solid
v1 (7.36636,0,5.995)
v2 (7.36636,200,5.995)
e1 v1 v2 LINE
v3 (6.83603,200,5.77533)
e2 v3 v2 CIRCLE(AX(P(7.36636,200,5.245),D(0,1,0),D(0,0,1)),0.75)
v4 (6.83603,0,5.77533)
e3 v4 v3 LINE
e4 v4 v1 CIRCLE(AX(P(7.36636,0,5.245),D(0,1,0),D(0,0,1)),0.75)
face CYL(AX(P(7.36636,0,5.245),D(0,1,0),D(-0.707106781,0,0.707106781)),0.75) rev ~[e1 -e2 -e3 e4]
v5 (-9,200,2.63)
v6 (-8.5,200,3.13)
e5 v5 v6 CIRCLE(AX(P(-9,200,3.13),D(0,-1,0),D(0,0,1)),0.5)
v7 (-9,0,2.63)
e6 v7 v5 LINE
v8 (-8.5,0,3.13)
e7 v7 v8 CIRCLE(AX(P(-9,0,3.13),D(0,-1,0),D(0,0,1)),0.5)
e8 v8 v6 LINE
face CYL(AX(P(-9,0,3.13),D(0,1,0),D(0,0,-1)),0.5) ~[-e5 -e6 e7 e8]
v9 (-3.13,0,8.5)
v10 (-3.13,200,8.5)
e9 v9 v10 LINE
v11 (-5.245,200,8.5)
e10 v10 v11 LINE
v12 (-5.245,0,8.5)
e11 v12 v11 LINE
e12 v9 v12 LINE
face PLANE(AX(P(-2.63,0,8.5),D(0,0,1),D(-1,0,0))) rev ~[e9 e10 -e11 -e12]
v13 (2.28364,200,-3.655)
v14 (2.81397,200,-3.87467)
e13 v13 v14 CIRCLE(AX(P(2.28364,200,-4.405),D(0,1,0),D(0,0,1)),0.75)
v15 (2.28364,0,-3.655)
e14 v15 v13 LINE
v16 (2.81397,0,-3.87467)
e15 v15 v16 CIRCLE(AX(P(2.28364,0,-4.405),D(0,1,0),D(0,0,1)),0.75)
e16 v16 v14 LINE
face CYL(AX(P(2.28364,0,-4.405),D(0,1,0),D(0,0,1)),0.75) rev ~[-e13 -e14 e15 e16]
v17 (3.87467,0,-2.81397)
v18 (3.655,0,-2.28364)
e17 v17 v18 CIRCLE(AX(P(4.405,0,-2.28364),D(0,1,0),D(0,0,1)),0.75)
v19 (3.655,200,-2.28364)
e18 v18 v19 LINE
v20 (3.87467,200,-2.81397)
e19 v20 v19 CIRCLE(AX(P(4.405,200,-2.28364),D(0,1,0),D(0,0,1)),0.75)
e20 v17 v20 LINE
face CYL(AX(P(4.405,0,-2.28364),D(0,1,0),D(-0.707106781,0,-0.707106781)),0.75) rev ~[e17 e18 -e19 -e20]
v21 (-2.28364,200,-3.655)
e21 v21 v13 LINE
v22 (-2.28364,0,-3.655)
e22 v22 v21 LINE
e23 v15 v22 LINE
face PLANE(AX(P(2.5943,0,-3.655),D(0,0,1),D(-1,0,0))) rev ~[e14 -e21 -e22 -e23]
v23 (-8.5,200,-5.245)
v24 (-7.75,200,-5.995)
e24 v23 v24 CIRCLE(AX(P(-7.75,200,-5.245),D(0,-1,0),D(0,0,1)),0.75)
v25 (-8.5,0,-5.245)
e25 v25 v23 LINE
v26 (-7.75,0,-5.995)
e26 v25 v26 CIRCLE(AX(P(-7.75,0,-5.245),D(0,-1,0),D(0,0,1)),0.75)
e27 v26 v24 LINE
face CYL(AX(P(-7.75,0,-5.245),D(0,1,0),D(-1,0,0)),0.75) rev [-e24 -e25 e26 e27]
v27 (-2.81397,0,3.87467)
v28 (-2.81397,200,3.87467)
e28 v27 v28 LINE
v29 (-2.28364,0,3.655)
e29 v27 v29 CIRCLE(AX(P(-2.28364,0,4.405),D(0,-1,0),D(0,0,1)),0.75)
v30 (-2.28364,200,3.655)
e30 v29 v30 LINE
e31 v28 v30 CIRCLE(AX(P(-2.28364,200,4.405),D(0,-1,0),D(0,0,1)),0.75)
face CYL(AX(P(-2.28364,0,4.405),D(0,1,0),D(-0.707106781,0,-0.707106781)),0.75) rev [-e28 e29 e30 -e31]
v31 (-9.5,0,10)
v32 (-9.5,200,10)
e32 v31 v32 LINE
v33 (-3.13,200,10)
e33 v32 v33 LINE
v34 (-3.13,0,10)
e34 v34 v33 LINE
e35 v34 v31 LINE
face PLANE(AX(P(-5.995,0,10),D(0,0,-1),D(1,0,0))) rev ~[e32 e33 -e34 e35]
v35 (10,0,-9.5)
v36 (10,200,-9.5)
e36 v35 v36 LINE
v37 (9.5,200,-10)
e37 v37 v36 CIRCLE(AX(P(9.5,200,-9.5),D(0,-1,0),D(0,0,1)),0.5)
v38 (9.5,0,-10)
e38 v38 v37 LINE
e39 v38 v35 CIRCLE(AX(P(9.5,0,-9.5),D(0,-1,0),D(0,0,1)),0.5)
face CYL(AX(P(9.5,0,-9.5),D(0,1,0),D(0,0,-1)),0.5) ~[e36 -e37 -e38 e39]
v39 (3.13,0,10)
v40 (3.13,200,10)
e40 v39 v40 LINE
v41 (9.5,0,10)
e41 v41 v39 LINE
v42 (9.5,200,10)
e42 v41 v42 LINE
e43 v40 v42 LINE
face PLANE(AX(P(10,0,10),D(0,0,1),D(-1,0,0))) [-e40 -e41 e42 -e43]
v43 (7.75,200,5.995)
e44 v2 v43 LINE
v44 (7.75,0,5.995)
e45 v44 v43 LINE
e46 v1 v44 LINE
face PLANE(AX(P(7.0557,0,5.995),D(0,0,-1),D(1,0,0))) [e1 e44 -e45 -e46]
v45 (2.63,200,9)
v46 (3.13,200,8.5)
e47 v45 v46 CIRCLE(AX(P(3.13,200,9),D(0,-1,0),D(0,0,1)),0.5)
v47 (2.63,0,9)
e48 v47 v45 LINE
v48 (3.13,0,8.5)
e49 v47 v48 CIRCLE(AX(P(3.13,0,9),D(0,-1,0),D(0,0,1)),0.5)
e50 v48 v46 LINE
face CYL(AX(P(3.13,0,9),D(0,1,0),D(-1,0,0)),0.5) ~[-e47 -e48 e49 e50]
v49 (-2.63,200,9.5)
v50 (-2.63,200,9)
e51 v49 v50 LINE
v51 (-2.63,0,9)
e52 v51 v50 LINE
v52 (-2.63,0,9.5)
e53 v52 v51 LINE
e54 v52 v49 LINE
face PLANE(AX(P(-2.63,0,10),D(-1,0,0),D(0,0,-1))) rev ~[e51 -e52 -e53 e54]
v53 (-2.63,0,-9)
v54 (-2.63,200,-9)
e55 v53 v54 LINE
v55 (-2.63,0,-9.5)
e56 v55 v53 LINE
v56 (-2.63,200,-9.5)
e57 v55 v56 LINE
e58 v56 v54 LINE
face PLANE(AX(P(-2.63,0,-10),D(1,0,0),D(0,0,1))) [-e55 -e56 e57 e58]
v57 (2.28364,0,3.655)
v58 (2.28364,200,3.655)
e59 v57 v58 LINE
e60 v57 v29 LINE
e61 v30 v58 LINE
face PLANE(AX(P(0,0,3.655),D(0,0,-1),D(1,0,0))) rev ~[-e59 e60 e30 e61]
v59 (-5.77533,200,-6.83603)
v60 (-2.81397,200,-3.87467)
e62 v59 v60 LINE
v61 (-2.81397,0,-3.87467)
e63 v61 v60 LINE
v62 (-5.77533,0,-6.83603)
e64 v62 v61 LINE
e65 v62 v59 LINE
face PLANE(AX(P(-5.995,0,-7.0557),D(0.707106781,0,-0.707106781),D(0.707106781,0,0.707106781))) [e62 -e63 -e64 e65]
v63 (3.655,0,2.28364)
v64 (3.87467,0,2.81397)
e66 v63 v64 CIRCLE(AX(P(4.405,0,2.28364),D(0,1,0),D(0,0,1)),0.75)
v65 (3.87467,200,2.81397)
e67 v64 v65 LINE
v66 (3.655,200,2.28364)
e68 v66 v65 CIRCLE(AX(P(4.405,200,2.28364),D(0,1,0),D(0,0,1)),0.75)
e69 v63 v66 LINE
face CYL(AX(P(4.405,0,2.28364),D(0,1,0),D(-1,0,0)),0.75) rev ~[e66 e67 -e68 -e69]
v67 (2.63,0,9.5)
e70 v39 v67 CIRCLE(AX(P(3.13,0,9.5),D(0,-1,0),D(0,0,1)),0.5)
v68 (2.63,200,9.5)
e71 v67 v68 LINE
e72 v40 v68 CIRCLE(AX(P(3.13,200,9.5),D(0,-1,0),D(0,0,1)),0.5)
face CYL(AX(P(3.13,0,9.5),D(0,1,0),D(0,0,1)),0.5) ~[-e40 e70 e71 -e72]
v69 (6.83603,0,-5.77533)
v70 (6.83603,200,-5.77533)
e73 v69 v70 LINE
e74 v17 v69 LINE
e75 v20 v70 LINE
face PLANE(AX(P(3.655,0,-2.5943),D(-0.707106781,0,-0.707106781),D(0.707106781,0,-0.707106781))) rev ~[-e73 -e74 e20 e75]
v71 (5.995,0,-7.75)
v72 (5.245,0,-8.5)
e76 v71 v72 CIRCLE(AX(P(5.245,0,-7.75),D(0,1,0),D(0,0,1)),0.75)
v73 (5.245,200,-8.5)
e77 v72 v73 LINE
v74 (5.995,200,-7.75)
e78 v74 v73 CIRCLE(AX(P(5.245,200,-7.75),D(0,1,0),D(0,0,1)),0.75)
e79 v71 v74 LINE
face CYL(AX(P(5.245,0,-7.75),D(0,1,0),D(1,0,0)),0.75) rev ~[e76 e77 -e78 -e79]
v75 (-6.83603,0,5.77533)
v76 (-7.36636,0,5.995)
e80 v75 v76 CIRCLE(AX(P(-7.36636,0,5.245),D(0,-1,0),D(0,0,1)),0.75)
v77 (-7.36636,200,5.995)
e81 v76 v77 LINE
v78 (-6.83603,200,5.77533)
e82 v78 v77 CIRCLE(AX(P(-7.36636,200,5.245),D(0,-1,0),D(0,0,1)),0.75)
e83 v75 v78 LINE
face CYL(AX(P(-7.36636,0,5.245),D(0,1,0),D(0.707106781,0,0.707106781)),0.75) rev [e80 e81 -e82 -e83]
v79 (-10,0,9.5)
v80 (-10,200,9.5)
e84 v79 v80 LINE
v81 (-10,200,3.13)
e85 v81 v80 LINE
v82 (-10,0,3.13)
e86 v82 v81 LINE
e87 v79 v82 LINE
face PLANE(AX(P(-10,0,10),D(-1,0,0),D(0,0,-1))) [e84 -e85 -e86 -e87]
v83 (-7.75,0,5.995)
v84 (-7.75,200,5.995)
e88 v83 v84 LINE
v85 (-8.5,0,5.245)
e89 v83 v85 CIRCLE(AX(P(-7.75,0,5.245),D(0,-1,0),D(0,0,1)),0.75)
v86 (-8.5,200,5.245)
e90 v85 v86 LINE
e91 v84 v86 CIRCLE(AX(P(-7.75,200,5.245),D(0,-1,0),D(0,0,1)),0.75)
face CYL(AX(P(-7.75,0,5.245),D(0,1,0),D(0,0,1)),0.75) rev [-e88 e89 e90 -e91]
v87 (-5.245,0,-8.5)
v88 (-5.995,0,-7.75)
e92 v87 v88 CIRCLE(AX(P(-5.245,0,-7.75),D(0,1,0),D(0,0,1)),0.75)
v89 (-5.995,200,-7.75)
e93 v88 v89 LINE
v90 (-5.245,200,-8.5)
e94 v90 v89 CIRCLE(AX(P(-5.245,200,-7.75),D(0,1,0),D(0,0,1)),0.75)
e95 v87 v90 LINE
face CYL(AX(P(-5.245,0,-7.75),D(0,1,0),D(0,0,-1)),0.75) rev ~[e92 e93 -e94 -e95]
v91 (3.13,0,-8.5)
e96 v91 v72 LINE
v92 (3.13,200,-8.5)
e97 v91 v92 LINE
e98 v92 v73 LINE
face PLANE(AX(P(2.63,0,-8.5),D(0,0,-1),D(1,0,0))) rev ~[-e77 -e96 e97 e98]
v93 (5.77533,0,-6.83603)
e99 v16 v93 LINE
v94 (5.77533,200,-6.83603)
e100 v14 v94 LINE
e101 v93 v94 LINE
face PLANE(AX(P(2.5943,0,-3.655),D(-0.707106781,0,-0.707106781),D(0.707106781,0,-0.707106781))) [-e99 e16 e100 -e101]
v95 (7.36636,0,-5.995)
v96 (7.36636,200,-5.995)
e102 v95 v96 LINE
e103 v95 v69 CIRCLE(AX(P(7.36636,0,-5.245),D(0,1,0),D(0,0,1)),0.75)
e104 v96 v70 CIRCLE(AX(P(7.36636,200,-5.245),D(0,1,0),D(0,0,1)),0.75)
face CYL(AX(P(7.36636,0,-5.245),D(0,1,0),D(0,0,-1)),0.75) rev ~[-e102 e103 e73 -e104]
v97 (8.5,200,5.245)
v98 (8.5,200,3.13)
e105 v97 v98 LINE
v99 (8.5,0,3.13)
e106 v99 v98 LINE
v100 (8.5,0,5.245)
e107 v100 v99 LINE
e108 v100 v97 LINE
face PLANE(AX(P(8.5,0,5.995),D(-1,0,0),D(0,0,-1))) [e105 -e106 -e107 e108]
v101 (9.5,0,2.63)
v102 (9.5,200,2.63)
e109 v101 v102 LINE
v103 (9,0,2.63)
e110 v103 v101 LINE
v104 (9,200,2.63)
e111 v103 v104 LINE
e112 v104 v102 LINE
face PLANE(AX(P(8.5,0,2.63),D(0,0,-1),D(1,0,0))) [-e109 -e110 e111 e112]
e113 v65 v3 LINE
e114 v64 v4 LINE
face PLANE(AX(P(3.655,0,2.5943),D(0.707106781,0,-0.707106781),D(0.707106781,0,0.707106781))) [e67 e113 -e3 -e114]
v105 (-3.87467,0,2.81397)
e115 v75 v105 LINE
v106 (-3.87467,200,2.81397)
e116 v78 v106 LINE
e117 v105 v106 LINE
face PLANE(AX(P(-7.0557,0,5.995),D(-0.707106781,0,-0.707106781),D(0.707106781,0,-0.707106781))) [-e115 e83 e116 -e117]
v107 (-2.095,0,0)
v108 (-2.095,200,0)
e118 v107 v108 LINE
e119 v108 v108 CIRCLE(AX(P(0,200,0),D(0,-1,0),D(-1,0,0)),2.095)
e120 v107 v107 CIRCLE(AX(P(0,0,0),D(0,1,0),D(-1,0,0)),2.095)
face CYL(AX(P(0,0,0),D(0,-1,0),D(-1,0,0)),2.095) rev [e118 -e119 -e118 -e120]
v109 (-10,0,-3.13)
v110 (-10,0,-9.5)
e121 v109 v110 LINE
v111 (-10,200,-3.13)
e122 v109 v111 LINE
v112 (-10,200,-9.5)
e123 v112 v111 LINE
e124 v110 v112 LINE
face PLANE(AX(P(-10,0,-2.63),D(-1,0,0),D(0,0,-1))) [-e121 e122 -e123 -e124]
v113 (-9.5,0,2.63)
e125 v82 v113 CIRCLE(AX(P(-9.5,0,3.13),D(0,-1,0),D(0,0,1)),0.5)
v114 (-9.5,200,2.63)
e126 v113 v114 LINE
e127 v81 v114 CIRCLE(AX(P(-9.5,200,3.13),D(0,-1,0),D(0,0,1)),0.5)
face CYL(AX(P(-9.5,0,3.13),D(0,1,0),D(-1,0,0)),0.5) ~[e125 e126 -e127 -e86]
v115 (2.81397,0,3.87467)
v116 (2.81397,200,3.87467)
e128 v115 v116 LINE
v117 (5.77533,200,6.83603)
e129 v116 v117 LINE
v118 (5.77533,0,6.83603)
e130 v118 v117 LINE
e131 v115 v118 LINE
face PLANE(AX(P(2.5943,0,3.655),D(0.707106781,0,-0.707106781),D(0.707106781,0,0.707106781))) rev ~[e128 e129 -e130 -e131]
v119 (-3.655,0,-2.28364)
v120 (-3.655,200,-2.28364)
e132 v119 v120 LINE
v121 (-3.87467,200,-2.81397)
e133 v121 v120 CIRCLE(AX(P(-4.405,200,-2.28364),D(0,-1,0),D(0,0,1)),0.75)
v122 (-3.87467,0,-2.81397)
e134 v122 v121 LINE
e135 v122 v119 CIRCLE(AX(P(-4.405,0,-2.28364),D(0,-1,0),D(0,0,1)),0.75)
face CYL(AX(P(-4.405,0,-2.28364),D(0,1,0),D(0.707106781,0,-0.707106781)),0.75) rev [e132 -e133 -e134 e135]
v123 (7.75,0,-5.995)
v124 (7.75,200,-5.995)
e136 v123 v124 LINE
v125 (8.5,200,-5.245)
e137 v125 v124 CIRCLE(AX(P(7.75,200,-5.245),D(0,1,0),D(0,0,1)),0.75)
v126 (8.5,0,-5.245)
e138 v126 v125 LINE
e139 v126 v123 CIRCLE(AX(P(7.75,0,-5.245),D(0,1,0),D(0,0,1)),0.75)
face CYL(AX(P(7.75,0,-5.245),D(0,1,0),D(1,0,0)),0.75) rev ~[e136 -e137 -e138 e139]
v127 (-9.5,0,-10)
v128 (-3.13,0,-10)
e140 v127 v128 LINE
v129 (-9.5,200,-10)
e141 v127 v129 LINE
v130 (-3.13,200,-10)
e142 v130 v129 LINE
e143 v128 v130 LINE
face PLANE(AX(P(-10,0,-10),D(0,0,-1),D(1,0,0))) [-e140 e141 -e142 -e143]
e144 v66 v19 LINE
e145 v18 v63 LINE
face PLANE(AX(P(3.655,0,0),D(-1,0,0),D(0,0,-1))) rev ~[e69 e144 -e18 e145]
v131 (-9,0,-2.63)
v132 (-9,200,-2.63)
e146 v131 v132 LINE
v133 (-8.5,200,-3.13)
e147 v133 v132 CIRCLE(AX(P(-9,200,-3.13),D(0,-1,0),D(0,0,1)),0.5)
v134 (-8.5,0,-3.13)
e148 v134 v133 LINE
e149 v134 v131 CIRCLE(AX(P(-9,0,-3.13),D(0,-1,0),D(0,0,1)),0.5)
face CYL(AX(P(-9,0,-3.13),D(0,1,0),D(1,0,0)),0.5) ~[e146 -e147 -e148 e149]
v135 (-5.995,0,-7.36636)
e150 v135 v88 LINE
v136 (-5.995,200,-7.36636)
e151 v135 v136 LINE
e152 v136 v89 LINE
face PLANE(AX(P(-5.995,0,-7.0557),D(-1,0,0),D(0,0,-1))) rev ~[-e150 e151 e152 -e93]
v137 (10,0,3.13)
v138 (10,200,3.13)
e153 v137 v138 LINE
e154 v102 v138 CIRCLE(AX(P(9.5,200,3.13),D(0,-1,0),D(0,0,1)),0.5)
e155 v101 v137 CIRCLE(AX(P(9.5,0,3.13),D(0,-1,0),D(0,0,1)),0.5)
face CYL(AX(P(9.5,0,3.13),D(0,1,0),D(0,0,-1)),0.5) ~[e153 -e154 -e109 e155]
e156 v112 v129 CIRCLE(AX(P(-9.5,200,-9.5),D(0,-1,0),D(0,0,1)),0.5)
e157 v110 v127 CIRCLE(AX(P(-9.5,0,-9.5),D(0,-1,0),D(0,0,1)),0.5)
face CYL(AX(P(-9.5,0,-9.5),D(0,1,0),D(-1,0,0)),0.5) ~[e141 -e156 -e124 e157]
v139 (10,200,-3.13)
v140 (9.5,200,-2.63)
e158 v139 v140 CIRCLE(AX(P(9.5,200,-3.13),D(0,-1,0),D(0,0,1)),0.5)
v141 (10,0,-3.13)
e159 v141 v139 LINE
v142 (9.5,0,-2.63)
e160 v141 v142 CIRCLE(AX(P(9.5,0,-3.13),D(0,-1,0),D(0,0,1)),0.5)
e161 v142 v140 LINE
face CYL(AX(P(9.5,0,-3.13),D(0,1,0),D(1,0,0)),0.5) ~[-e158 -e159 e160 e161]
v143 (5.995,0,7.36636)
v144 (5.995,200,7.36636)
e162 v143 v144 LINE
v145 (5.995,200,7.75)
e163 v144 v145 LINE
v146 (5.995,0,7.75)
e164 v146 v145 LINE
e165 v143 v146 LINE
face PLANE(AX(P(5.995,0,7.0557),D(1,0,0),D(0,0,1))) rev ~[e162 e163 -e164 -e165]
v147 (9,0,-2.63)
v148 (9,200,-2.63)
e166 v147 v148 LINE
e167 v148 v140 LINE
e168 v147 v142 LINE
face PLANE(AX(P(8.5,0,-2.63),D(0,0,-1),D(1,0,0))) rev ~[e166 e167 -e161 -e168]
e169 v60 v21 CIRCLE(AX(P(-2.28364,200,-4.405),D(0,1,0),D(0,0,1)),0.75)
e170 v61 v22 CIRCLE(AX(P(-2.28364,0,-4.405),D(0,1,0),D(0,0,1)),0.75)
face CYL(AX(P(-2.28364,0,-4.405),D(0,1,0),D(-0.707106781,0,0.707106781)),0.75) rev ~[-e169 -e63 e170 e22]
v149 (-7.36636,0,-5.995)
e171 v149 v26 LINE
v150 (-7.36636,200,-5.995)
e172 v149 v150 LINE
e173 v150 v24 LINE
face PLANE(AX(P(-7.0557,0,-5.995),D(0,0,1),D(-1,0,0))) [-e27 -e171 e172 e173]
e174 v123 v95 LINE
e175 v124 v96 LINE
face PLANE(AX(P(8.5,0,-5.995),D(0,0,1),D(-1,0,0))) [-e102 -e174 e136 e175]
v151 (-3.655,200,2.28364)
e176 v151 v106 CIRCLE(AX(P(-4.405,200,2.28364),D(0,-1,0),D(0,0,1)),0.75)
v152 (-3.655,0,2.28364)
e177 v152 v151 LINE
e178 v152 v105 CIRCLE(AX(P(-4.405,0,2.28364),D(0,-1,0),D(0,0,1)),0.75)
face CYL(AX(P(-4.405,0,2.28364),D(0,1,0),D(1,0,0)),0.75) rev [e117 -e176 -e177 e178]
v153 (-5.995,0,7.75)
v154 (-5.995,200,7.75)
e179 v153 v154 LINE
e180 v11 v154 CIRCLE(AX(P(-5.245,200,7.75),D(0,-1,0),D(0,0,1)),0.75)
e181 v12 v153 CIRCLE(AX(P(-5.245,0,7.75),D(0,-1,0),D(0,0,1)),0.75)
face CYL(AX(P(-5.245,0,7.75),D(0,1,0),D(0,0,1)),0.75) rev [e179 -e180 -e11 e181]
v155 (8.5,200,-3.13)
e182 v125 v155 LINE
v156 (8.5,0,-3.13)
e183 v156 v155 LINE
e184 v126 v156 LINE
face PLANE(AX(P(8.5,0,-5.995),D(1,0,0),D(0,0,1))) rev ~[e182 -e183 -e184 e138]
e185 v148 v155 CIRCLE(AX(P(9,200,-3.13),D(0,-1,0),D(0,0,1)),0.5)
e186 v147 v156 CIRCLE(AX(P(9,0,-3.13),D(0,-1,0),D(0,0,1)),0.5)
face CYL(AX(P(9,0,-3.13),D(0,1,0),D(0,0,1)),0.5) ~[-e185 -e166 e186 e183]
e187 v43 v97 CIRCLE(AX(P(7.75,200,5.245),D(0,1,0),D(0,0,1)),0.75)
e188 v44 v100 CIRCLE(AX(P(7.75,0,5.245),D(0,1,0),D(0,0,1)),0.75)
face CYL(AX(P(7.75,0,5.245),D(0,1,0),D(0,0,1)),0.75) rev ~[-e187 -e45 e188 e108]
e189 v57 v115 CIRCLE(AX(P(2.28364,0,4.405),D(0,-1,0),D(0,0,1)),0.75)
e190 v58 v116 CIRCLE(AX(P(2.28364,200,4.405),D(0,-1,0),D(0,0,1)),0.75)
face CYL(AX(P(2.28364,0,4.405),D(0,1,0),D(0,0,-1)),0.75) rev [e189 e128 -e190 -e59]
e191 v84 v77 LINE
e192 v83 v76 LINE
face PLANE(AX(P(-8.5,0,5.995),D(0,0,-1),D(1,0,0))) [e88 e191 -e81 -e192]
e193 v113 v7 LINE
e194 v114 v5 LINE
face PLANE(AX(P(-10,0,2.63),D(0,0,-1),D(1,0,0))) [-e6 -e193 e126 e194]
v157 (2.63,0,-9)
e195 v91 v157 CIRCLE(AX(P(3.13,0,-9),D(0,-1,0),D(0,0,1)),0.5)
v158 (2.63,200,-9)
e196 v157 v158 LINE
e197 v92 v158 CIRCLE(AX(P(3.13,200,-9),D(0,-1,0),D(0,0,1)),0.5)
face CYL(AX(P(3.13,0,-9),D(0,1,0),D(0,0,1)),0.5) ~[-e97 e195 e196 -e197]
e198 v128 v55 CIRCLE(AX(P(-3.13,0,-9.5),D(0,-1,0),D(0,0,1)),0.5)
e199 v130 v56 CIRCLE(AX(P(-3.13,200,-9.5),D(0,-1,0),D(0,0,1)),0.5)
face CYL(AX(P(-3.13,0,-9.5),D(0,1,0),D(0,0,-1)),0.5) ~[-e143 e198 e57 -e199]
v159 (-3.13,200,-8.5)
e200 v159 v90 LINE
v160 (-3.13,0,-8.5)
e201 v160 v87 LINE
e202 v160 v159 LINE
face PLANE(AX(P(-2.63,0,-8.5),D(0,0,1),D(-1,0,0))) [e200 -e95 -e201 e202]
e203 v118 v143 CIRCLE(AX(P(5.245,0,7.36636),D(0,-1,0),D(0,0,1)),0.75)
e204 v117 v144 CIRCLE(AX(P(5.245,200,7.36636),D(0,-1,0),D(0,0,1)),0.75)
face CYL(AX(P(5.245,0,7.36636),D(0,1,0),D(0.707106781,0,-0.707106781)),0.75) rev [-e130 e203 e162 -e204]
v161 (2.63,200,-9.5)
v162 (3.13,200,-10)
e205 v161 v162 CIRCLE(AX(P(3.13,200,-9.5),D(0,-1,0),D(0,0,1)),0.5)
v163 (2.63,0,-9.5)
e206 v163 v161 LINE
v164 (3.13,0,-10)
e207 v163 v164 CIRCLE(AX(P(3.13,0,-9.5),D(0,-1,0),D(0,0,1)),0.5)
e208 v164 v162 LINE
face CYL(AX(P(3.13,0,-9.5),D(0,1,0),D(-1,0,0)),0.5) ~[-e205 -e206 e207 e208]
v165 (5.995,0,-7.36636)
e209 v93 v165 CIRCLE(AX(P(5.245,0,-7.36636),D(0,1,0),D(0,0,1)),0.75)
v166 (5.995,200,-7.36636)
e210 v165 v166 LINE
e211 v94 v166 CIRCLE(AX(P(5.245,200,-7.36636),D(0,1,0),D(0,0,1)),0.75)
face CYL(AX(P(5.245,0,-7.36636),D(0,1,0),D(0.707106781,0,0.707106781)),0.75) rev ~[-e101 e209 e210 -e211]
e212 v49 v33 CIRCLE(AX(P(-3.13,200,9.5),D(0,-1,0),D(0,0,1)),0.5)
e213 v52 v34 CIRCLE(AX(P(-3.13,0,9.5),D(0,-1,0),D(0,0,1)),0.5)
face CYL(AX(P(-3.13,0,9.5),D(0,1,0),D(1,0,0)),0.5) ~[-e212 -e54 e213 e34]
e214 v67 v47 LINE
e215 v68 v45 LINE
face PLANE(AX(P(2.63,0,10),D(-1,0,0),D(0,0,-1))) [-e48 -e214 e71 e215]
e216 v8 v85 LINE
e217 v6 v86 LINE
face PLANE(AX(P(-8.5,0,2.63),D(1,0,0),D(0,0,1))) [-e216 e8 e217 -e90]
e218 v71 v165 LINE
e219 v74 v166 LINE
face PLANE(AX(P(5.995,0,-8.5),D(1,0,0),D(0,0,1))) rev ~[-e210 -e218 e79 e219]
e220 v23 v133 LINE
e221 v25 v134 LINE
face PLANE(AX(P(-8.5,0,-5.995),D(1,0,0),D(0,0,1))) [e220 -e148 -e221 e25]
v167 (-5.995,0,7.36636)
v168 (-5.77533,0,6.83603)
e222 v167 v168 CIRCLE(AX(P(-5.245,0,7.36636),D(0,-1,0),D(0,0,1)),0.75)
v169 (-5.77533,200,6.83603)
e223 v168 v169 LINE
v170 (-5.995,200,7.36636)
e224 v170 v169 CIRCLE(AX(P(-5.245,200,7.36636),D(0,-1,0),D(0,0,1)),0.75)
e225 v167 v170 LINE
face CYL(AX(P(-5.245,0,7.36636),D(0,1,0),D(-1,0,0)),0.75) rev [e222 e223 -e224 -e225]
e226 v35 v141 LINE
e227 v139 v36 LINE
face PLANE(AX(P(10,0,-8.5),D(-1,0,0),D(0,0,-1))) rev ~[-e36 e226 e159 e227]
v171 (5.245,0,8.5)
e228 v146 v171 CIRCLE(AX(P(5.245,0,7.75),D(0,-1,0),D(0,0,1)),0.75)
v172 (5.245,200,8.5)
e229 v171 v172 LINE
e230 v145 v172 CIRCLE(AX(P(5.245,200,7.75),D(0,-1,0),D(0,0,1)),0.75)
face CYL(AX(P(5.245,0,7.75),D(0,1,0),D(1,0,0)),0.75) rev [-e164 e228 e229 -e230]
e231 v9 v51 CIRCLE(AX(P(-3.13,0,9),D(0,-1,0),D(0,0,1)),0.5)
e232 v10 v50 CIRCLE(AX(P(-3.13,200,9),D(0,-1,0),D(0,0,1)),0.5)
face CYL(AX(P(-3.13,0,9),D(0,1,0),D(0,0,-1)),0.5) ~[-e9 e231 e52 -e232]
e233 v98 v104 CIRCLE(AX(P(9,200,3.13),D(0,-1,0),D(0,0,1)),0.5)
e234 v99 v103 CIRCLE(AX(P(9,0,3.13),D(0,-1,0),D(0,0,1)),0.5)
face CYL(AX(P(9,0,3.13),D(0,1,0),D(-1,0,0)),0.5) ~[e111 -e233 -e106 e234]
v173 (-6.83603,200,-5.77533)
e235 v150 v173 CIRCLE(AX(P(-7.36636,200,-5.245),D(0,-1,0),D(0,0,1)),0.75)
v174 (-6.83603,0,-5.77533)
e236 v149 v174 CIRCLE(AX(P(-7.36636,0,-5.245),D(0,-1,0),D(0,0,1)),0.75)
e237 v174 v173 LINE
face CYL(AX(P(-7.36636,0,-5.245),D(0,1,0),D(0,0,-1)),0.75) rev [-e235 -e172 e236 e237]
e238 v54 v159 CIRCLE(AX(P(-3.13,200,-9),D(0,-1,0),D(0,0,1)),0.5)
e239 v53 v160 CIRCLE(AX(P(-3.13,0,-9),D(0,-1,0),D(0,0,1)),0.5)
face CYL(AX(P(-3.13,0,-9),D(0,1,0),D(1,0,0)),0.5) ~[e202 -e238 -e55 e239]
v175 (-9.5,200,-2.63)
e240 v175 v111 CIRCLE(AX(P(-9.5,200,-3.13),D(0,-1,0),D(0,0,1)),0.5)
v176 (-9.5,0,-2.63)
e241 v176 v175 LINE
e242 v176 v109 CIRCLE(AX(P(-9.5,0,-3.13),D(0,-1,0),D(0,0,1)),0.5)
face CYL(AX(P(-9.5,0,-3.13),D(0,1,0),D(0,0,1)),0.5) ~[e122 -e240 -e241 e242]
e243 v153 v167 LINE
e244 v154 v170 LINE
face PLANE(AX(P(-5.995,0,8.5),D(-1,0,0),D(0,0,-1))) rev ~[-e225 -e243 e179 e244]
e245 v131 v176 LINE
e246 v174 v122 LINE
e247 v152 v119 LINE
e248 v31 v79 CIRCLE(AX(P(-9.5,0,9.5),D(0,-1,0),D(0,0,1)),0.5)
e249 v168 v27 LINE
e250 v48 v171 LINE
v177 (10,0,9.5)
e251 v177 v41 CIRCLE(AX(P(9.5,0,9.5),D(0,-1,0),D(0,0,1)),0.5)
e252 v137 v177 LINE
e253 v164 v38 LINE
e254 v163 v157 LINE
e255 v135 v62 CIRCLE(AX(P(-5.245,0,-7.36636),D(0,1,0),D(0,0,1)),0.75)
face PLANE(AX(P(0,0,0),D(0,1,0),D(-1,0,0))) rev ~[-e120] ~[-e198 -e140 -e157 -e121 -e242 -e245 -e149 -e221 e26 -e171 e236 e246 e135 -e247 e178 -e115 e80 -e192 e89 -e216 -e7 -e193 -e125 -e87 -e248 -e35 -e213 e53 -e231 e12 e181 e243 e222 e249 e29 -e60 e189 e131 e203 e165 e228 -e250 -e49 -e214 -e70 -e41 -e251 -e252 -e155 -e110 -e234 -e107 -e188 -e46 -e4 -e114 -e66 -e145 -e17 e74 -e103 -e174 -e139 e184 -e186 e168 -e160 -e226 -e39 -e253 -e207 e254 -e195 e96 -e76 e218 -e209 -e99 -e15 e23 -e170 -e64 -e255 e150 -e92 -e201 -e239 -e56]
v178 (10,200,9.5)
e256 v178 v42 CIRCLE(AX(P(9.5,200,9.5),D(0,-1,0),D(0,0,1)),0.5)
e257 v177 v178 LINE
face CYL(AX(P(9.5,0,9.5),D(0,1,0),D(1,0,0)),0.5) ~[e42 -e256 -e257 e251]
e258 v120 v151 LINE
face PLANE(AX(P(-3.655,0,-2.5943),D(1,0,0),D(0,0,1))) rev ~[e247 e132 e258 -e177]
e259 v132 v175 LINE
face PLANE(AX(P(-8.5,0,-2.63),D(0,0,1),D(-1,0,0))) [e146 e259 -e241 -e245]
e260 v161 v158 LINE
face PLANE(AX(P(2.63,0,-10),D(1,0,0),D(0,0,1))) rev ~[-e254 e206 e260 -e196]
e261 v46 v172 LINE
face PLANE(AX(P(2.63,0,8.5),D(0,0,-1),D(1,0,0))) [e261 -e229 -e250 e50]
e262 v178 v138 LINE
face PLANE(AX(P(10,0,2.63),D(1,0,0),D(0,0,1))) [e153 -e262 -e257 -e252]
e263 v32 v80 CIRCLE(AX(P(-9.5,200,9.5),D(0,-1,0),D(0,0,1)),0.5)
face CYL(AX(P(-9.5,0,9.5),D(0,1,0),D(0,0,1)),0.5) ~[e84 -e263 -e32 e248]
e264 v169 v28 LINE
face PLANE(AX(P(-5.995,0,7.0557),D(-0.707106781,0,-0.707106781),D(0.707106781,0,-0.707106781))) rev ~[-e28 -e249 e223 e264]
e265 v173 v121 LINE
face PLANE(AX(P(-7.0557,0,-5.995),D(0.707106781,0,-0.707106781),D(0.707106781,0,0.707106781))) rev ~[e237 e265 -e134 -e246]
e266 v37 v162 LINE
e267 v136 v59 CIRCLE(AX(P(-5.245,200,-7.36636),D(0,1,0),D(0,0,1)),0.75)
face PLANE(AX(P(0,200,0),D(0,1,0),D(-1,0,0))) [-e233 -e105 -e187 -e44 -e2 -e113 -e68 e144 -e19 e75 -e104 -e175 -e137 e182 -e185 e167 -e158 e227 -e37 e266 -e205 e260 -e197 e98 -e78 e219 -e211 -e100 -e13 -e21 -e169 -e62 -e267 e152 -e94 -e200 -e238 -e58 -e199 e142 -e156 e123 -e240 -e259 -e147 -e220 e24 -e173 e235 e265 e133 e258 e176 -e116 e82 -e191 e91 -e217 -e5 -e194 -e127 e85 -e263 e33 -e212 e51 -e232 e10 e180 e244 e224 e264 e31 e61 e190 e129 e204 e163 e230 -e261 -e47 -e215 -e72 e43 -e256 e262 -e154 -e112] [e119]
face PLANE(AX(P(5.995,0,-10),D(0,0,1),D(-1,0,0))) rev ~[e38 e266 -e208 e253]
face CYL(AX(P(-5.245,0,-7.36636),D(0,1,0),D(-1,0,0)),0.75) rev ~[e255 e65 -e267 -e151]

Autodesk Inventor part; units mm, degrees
ref_plane "YZ Plane" through (0, 0, 0) normal (1, 0, 0) x (0, 1, 0)
ref_plane "XZ Plane" through (0, 0, 0) normal (0, 1, 0) x (-1, 0, 0)
ref_plane "XY Plane" through (0, 0, 0) normal (0, 0, 1) x (1, 0, 0)
sketch "Sketch1" plane through (0, 0, 0) normal (0, 1, 0) x (-1, 0, 0)
  line L0 (0, -14) -> (0, 14) projected
  line L1 (-14, 0) -> (14, 0) projected
  line L2 (14, 0) -> (-14, 0) projected
  line L3 (0, -14) -> (0, 14) projected
  line L4 (2.5943, 3.655) -> (-2.5943, 3.655)
  line L5 (-3.655, 2.5943) -> (-3.655, -2.5943)
  line L6 (-2.5943, -3.655) -> (2.5943, -3.655)
  line L7 (3.655, -2.5943) -> (3.655, 2.5943)
  line L8 (-3.655, 3.655) -> (3.655, -3.655) construction
  line L9 (10, 10) -> (10, 2.63)
  line L10 (10, 2.63) -> (8.5, 2.63)
  line L11 (10, 10) -> (2.63, 10)
  line L12 (2.63, 10) -> (2.63, 8.5)
  line L13 (-10, 10) -> (-2.63, 10)
  line L14 (-2.63, 10) -> (-2.63, 8.5)
  line L15 (-10, 8.5) -> (-10, 10)
  line L16 (-10, 10) -> (-8.5, 10)
  line L17 (-8.5, 2.63) -> (-10, 2.63)
  line L18 (-10, 2.63) -> (-10, 10)
  line L19 (-10, -10) -> (-8.5, -10)
  line L20 (-8.5, -2.63) -> (-10, -2.63)
  line L21 (-10, -2.63) -> (-10, -10)
  line L22 (-10, -10) -> (-2.63, -10)
  line L23 (-2.63, -10) -> (-2.63, -8.5)
  line L24 (-10, -8.5) -> (-10, -10)
  line L25 (10, -10) -> (8.5, -10)
  line L26 (8.5, -2.63) -> (10, -2.63)
  line L27 (10, -2.63) -> (10, -10)
  line L28 (10, -10) -> (2.63, -10)
  line L29 (2.63, -10) -> (2.63, -8.5)
  line L30 (10, -8.5) -> (10, -10)
  circle A0 centre (0, 0) radius 2.095
  line L31 (5.995, -10) -> (2.63, -10)
  line L32 (-2.63, -10) -> (-5.995, -10)
  line L33 (10, -10) -> (2.63, -10)
  line L34 (-2.63, -10) -> (-10, -10)
  line L35 (10, -5.995) -> (10, -2.63)
  line L36 (10, 2.63) -> (10, 5.995)
  line L37 (10, 10) -> (10, 2.63)
  line L38 (10, -2.63) -> (10, -10)
  line L39 (-5.995, 10) -> (-2.63, 10)
  line L40 (2.63, 10) -> (5.995, 10)
  line L41 (-10, 10) -> (-2.63, 10)
  line L42 (2.63, 10) -> (10, 10)
  line L43 (-10, 5.995) -> (-10, 2.63)
  line L44 (-10, -2.63) -> (-10, -5.995)
  line L45 (-10, -10) -> (-10, -2.63)
  line L46 (-10, 2.63) -> (-10, 10)
  line L47 (-2.63, -8.5) -> (-5.995, -8.5)
  line L48 (-8.5, -5.995) -> (-8.5, -2.63)
  line L49 (-8.5, -5.995) -> (-7.0557, -5.995)
  line L50 (-5.995, -8.5) -> (-5.995, -7.0557)
  line L51 (-5.995, 7.0557) -> (-5.995, 8.5)
  line L52 (2.63, 8.5) -> (5.995, 8.5)
  line L53 (8.5, 2.63) -> (8.5, 5.995)
  line L54 (8.5, 5.995) -> (7.0557, 5.995)
  line L55 (5.995, 8.5) -> (5.995, 7.0557)
  line L56 (2.63, -8.5) -> (5.995, -8.5)
  line L57 (9.5607, -8.5) -> (10, -8.5)
  line L58 (8.5, -10) -> (8.5, -9.5607)
  line L59 (8.5, -5.995) -> (8.5, -2.63)
  line L60 (7.0557, -5.995) -> (8.5, -5.995)
  line L61 (5.995, -7.0557) -> (5.995, -8.5)
  line L62 (3.655, 3.655) -> (-0.5303, -0.5303) construction
  line L63 (-1.4814, -1.4814) -> (-3.655, -3.655) construction
  line L64 (-8.5, 10) -> (-8.5, 9.5607)
  line L65 (-8.5, 5.995) -> (-8.5, 2.63)
  line L66 (-2.63, 8.5) -> (-5.995, 8.5)
  line L67 (-9.5607, 8.5) -> (-10, 8.5)
  line L68 (-7.0557, 5.995) -> (-8.5, 5.995)
  line L69 (-3.655, 2.5943) -> (-7.0557, 5.995)
  line L70 (-2.5943, 3.655) -> (-5.995, 7.0557)
  line L71 (5.995, 7.0557) -> (2.5943, 3.655)
  line L72 (7.0557, 5.995) -> (3.655, 2.5943)
  line L73 (7.0557, -5.995) -> (3.655, -2.5943)
  line L74 (5.995, -7.0557) -> (2.5943, -3.655)
  line L75 (-2.5943, -3.655) -> (-5.995, -7.0557)
  line L76 (-3.655, -2.5943) -> (-7.0557, -5.995)
  dimension "d26" = 4.19
  dimension "d0" = 20
  dimension "d1" = 20
  dimension "d2" = 7.31
  dimension "d3" = 7.31
  dimension "d4" = 20
  dimension "d5" = 11.99
  dimension "d6" = 11.99
  dimension "d11" = 7.37
  dimension "d12" = 1.5
  dimension "d13" = 7.37
  dimension "d14" = 1.5
  dimension "d15" = 7.37
  dimension "d16" = 1.5
  dimension "d17" = 7.37
  dimension "d18" = 1.5
  dimension "d19" = 7.37
  dimension "d20" = 7.37
  dimension "d21" = 1.5
  dimension "d22" = 1.5
  dimension "d23" = 7.37
  dimension "d24" = 7.37
  dimension "d25" = 1.5
extrude "Extrusion1" add sketch "Sketch1" along normal blind 200 contours L6 L75 L50 L47 L23 L22 L19 L21 L20 L48 L49 L76 L5 L1 A0 L0 | L0 A0 L1 L7 L73 L60 L59 L26 L27 L25 L28 L29 L56 L61 L74 L6 | L1 L5 L69 L68 L65 L17 L18 L15 L13 L14 L66 L51 L70 L4 L0 A0 | A0 L0 L4 L71 L55 L52 L12 L11 L9 L10 L53 L54 L72 L7 L1
fillet "Fillet1" radius 0.5 20 edges at (10, 100, 10) (2.63, 100, 10) (-2.63, 100, 10) (-2.63, 100, 8.5) (10, 100, 2.63) (8.5, 100, 2.63) (10, 100, -2.63) (8.5, 100, -2.63) (10, 100, -10) (2.63, 100, -8.5) (-2.63, 100, -10) (-2.63, 100, -8.5) (2.63, 100, -10) (-10, 100, -10) (-8.5, 100, -2.63) (-10, 100, -2.63) (-8.5, 100, 2.63) (-10, 100, 2.63) (-10, 100, 10) (2.63, 100, 8.5)
fillet "Fillet2" radius 0.75 24 edges at (-7.0557, 100, 5.995) (-3.655, 100, 2.5943) (-8.5, 100, -5.995) (-7.0557, 100, -5.995) (-5.995, 100, -8.5) (3.655, 100, -2.5943) (7.0557, 100, -5.995) (-2.5943, 100, 3.655) (-5.995, 100, 7.0557) (3.655, 100, 2.5943) (7.0557, 100, 5.995) (8.5, 100, 5.995) (8.5, 100, -5.995) (2.5943, 100, 3.655) (5.995, 100, 7.0557) (5.995, 100, 8.5) (-5.995, 100, 8.5) (-8.5, 100, 5.995) (2.5943, 100, -3.655) (5.995, 100, -7.0557) (5.995, 100, -8.5) (-5.995, 100, -7.0557) (-2.5943, 100, -3.655) (-3.655, 100, -2.5943)
properties part number "Profile_Len_160mm"
